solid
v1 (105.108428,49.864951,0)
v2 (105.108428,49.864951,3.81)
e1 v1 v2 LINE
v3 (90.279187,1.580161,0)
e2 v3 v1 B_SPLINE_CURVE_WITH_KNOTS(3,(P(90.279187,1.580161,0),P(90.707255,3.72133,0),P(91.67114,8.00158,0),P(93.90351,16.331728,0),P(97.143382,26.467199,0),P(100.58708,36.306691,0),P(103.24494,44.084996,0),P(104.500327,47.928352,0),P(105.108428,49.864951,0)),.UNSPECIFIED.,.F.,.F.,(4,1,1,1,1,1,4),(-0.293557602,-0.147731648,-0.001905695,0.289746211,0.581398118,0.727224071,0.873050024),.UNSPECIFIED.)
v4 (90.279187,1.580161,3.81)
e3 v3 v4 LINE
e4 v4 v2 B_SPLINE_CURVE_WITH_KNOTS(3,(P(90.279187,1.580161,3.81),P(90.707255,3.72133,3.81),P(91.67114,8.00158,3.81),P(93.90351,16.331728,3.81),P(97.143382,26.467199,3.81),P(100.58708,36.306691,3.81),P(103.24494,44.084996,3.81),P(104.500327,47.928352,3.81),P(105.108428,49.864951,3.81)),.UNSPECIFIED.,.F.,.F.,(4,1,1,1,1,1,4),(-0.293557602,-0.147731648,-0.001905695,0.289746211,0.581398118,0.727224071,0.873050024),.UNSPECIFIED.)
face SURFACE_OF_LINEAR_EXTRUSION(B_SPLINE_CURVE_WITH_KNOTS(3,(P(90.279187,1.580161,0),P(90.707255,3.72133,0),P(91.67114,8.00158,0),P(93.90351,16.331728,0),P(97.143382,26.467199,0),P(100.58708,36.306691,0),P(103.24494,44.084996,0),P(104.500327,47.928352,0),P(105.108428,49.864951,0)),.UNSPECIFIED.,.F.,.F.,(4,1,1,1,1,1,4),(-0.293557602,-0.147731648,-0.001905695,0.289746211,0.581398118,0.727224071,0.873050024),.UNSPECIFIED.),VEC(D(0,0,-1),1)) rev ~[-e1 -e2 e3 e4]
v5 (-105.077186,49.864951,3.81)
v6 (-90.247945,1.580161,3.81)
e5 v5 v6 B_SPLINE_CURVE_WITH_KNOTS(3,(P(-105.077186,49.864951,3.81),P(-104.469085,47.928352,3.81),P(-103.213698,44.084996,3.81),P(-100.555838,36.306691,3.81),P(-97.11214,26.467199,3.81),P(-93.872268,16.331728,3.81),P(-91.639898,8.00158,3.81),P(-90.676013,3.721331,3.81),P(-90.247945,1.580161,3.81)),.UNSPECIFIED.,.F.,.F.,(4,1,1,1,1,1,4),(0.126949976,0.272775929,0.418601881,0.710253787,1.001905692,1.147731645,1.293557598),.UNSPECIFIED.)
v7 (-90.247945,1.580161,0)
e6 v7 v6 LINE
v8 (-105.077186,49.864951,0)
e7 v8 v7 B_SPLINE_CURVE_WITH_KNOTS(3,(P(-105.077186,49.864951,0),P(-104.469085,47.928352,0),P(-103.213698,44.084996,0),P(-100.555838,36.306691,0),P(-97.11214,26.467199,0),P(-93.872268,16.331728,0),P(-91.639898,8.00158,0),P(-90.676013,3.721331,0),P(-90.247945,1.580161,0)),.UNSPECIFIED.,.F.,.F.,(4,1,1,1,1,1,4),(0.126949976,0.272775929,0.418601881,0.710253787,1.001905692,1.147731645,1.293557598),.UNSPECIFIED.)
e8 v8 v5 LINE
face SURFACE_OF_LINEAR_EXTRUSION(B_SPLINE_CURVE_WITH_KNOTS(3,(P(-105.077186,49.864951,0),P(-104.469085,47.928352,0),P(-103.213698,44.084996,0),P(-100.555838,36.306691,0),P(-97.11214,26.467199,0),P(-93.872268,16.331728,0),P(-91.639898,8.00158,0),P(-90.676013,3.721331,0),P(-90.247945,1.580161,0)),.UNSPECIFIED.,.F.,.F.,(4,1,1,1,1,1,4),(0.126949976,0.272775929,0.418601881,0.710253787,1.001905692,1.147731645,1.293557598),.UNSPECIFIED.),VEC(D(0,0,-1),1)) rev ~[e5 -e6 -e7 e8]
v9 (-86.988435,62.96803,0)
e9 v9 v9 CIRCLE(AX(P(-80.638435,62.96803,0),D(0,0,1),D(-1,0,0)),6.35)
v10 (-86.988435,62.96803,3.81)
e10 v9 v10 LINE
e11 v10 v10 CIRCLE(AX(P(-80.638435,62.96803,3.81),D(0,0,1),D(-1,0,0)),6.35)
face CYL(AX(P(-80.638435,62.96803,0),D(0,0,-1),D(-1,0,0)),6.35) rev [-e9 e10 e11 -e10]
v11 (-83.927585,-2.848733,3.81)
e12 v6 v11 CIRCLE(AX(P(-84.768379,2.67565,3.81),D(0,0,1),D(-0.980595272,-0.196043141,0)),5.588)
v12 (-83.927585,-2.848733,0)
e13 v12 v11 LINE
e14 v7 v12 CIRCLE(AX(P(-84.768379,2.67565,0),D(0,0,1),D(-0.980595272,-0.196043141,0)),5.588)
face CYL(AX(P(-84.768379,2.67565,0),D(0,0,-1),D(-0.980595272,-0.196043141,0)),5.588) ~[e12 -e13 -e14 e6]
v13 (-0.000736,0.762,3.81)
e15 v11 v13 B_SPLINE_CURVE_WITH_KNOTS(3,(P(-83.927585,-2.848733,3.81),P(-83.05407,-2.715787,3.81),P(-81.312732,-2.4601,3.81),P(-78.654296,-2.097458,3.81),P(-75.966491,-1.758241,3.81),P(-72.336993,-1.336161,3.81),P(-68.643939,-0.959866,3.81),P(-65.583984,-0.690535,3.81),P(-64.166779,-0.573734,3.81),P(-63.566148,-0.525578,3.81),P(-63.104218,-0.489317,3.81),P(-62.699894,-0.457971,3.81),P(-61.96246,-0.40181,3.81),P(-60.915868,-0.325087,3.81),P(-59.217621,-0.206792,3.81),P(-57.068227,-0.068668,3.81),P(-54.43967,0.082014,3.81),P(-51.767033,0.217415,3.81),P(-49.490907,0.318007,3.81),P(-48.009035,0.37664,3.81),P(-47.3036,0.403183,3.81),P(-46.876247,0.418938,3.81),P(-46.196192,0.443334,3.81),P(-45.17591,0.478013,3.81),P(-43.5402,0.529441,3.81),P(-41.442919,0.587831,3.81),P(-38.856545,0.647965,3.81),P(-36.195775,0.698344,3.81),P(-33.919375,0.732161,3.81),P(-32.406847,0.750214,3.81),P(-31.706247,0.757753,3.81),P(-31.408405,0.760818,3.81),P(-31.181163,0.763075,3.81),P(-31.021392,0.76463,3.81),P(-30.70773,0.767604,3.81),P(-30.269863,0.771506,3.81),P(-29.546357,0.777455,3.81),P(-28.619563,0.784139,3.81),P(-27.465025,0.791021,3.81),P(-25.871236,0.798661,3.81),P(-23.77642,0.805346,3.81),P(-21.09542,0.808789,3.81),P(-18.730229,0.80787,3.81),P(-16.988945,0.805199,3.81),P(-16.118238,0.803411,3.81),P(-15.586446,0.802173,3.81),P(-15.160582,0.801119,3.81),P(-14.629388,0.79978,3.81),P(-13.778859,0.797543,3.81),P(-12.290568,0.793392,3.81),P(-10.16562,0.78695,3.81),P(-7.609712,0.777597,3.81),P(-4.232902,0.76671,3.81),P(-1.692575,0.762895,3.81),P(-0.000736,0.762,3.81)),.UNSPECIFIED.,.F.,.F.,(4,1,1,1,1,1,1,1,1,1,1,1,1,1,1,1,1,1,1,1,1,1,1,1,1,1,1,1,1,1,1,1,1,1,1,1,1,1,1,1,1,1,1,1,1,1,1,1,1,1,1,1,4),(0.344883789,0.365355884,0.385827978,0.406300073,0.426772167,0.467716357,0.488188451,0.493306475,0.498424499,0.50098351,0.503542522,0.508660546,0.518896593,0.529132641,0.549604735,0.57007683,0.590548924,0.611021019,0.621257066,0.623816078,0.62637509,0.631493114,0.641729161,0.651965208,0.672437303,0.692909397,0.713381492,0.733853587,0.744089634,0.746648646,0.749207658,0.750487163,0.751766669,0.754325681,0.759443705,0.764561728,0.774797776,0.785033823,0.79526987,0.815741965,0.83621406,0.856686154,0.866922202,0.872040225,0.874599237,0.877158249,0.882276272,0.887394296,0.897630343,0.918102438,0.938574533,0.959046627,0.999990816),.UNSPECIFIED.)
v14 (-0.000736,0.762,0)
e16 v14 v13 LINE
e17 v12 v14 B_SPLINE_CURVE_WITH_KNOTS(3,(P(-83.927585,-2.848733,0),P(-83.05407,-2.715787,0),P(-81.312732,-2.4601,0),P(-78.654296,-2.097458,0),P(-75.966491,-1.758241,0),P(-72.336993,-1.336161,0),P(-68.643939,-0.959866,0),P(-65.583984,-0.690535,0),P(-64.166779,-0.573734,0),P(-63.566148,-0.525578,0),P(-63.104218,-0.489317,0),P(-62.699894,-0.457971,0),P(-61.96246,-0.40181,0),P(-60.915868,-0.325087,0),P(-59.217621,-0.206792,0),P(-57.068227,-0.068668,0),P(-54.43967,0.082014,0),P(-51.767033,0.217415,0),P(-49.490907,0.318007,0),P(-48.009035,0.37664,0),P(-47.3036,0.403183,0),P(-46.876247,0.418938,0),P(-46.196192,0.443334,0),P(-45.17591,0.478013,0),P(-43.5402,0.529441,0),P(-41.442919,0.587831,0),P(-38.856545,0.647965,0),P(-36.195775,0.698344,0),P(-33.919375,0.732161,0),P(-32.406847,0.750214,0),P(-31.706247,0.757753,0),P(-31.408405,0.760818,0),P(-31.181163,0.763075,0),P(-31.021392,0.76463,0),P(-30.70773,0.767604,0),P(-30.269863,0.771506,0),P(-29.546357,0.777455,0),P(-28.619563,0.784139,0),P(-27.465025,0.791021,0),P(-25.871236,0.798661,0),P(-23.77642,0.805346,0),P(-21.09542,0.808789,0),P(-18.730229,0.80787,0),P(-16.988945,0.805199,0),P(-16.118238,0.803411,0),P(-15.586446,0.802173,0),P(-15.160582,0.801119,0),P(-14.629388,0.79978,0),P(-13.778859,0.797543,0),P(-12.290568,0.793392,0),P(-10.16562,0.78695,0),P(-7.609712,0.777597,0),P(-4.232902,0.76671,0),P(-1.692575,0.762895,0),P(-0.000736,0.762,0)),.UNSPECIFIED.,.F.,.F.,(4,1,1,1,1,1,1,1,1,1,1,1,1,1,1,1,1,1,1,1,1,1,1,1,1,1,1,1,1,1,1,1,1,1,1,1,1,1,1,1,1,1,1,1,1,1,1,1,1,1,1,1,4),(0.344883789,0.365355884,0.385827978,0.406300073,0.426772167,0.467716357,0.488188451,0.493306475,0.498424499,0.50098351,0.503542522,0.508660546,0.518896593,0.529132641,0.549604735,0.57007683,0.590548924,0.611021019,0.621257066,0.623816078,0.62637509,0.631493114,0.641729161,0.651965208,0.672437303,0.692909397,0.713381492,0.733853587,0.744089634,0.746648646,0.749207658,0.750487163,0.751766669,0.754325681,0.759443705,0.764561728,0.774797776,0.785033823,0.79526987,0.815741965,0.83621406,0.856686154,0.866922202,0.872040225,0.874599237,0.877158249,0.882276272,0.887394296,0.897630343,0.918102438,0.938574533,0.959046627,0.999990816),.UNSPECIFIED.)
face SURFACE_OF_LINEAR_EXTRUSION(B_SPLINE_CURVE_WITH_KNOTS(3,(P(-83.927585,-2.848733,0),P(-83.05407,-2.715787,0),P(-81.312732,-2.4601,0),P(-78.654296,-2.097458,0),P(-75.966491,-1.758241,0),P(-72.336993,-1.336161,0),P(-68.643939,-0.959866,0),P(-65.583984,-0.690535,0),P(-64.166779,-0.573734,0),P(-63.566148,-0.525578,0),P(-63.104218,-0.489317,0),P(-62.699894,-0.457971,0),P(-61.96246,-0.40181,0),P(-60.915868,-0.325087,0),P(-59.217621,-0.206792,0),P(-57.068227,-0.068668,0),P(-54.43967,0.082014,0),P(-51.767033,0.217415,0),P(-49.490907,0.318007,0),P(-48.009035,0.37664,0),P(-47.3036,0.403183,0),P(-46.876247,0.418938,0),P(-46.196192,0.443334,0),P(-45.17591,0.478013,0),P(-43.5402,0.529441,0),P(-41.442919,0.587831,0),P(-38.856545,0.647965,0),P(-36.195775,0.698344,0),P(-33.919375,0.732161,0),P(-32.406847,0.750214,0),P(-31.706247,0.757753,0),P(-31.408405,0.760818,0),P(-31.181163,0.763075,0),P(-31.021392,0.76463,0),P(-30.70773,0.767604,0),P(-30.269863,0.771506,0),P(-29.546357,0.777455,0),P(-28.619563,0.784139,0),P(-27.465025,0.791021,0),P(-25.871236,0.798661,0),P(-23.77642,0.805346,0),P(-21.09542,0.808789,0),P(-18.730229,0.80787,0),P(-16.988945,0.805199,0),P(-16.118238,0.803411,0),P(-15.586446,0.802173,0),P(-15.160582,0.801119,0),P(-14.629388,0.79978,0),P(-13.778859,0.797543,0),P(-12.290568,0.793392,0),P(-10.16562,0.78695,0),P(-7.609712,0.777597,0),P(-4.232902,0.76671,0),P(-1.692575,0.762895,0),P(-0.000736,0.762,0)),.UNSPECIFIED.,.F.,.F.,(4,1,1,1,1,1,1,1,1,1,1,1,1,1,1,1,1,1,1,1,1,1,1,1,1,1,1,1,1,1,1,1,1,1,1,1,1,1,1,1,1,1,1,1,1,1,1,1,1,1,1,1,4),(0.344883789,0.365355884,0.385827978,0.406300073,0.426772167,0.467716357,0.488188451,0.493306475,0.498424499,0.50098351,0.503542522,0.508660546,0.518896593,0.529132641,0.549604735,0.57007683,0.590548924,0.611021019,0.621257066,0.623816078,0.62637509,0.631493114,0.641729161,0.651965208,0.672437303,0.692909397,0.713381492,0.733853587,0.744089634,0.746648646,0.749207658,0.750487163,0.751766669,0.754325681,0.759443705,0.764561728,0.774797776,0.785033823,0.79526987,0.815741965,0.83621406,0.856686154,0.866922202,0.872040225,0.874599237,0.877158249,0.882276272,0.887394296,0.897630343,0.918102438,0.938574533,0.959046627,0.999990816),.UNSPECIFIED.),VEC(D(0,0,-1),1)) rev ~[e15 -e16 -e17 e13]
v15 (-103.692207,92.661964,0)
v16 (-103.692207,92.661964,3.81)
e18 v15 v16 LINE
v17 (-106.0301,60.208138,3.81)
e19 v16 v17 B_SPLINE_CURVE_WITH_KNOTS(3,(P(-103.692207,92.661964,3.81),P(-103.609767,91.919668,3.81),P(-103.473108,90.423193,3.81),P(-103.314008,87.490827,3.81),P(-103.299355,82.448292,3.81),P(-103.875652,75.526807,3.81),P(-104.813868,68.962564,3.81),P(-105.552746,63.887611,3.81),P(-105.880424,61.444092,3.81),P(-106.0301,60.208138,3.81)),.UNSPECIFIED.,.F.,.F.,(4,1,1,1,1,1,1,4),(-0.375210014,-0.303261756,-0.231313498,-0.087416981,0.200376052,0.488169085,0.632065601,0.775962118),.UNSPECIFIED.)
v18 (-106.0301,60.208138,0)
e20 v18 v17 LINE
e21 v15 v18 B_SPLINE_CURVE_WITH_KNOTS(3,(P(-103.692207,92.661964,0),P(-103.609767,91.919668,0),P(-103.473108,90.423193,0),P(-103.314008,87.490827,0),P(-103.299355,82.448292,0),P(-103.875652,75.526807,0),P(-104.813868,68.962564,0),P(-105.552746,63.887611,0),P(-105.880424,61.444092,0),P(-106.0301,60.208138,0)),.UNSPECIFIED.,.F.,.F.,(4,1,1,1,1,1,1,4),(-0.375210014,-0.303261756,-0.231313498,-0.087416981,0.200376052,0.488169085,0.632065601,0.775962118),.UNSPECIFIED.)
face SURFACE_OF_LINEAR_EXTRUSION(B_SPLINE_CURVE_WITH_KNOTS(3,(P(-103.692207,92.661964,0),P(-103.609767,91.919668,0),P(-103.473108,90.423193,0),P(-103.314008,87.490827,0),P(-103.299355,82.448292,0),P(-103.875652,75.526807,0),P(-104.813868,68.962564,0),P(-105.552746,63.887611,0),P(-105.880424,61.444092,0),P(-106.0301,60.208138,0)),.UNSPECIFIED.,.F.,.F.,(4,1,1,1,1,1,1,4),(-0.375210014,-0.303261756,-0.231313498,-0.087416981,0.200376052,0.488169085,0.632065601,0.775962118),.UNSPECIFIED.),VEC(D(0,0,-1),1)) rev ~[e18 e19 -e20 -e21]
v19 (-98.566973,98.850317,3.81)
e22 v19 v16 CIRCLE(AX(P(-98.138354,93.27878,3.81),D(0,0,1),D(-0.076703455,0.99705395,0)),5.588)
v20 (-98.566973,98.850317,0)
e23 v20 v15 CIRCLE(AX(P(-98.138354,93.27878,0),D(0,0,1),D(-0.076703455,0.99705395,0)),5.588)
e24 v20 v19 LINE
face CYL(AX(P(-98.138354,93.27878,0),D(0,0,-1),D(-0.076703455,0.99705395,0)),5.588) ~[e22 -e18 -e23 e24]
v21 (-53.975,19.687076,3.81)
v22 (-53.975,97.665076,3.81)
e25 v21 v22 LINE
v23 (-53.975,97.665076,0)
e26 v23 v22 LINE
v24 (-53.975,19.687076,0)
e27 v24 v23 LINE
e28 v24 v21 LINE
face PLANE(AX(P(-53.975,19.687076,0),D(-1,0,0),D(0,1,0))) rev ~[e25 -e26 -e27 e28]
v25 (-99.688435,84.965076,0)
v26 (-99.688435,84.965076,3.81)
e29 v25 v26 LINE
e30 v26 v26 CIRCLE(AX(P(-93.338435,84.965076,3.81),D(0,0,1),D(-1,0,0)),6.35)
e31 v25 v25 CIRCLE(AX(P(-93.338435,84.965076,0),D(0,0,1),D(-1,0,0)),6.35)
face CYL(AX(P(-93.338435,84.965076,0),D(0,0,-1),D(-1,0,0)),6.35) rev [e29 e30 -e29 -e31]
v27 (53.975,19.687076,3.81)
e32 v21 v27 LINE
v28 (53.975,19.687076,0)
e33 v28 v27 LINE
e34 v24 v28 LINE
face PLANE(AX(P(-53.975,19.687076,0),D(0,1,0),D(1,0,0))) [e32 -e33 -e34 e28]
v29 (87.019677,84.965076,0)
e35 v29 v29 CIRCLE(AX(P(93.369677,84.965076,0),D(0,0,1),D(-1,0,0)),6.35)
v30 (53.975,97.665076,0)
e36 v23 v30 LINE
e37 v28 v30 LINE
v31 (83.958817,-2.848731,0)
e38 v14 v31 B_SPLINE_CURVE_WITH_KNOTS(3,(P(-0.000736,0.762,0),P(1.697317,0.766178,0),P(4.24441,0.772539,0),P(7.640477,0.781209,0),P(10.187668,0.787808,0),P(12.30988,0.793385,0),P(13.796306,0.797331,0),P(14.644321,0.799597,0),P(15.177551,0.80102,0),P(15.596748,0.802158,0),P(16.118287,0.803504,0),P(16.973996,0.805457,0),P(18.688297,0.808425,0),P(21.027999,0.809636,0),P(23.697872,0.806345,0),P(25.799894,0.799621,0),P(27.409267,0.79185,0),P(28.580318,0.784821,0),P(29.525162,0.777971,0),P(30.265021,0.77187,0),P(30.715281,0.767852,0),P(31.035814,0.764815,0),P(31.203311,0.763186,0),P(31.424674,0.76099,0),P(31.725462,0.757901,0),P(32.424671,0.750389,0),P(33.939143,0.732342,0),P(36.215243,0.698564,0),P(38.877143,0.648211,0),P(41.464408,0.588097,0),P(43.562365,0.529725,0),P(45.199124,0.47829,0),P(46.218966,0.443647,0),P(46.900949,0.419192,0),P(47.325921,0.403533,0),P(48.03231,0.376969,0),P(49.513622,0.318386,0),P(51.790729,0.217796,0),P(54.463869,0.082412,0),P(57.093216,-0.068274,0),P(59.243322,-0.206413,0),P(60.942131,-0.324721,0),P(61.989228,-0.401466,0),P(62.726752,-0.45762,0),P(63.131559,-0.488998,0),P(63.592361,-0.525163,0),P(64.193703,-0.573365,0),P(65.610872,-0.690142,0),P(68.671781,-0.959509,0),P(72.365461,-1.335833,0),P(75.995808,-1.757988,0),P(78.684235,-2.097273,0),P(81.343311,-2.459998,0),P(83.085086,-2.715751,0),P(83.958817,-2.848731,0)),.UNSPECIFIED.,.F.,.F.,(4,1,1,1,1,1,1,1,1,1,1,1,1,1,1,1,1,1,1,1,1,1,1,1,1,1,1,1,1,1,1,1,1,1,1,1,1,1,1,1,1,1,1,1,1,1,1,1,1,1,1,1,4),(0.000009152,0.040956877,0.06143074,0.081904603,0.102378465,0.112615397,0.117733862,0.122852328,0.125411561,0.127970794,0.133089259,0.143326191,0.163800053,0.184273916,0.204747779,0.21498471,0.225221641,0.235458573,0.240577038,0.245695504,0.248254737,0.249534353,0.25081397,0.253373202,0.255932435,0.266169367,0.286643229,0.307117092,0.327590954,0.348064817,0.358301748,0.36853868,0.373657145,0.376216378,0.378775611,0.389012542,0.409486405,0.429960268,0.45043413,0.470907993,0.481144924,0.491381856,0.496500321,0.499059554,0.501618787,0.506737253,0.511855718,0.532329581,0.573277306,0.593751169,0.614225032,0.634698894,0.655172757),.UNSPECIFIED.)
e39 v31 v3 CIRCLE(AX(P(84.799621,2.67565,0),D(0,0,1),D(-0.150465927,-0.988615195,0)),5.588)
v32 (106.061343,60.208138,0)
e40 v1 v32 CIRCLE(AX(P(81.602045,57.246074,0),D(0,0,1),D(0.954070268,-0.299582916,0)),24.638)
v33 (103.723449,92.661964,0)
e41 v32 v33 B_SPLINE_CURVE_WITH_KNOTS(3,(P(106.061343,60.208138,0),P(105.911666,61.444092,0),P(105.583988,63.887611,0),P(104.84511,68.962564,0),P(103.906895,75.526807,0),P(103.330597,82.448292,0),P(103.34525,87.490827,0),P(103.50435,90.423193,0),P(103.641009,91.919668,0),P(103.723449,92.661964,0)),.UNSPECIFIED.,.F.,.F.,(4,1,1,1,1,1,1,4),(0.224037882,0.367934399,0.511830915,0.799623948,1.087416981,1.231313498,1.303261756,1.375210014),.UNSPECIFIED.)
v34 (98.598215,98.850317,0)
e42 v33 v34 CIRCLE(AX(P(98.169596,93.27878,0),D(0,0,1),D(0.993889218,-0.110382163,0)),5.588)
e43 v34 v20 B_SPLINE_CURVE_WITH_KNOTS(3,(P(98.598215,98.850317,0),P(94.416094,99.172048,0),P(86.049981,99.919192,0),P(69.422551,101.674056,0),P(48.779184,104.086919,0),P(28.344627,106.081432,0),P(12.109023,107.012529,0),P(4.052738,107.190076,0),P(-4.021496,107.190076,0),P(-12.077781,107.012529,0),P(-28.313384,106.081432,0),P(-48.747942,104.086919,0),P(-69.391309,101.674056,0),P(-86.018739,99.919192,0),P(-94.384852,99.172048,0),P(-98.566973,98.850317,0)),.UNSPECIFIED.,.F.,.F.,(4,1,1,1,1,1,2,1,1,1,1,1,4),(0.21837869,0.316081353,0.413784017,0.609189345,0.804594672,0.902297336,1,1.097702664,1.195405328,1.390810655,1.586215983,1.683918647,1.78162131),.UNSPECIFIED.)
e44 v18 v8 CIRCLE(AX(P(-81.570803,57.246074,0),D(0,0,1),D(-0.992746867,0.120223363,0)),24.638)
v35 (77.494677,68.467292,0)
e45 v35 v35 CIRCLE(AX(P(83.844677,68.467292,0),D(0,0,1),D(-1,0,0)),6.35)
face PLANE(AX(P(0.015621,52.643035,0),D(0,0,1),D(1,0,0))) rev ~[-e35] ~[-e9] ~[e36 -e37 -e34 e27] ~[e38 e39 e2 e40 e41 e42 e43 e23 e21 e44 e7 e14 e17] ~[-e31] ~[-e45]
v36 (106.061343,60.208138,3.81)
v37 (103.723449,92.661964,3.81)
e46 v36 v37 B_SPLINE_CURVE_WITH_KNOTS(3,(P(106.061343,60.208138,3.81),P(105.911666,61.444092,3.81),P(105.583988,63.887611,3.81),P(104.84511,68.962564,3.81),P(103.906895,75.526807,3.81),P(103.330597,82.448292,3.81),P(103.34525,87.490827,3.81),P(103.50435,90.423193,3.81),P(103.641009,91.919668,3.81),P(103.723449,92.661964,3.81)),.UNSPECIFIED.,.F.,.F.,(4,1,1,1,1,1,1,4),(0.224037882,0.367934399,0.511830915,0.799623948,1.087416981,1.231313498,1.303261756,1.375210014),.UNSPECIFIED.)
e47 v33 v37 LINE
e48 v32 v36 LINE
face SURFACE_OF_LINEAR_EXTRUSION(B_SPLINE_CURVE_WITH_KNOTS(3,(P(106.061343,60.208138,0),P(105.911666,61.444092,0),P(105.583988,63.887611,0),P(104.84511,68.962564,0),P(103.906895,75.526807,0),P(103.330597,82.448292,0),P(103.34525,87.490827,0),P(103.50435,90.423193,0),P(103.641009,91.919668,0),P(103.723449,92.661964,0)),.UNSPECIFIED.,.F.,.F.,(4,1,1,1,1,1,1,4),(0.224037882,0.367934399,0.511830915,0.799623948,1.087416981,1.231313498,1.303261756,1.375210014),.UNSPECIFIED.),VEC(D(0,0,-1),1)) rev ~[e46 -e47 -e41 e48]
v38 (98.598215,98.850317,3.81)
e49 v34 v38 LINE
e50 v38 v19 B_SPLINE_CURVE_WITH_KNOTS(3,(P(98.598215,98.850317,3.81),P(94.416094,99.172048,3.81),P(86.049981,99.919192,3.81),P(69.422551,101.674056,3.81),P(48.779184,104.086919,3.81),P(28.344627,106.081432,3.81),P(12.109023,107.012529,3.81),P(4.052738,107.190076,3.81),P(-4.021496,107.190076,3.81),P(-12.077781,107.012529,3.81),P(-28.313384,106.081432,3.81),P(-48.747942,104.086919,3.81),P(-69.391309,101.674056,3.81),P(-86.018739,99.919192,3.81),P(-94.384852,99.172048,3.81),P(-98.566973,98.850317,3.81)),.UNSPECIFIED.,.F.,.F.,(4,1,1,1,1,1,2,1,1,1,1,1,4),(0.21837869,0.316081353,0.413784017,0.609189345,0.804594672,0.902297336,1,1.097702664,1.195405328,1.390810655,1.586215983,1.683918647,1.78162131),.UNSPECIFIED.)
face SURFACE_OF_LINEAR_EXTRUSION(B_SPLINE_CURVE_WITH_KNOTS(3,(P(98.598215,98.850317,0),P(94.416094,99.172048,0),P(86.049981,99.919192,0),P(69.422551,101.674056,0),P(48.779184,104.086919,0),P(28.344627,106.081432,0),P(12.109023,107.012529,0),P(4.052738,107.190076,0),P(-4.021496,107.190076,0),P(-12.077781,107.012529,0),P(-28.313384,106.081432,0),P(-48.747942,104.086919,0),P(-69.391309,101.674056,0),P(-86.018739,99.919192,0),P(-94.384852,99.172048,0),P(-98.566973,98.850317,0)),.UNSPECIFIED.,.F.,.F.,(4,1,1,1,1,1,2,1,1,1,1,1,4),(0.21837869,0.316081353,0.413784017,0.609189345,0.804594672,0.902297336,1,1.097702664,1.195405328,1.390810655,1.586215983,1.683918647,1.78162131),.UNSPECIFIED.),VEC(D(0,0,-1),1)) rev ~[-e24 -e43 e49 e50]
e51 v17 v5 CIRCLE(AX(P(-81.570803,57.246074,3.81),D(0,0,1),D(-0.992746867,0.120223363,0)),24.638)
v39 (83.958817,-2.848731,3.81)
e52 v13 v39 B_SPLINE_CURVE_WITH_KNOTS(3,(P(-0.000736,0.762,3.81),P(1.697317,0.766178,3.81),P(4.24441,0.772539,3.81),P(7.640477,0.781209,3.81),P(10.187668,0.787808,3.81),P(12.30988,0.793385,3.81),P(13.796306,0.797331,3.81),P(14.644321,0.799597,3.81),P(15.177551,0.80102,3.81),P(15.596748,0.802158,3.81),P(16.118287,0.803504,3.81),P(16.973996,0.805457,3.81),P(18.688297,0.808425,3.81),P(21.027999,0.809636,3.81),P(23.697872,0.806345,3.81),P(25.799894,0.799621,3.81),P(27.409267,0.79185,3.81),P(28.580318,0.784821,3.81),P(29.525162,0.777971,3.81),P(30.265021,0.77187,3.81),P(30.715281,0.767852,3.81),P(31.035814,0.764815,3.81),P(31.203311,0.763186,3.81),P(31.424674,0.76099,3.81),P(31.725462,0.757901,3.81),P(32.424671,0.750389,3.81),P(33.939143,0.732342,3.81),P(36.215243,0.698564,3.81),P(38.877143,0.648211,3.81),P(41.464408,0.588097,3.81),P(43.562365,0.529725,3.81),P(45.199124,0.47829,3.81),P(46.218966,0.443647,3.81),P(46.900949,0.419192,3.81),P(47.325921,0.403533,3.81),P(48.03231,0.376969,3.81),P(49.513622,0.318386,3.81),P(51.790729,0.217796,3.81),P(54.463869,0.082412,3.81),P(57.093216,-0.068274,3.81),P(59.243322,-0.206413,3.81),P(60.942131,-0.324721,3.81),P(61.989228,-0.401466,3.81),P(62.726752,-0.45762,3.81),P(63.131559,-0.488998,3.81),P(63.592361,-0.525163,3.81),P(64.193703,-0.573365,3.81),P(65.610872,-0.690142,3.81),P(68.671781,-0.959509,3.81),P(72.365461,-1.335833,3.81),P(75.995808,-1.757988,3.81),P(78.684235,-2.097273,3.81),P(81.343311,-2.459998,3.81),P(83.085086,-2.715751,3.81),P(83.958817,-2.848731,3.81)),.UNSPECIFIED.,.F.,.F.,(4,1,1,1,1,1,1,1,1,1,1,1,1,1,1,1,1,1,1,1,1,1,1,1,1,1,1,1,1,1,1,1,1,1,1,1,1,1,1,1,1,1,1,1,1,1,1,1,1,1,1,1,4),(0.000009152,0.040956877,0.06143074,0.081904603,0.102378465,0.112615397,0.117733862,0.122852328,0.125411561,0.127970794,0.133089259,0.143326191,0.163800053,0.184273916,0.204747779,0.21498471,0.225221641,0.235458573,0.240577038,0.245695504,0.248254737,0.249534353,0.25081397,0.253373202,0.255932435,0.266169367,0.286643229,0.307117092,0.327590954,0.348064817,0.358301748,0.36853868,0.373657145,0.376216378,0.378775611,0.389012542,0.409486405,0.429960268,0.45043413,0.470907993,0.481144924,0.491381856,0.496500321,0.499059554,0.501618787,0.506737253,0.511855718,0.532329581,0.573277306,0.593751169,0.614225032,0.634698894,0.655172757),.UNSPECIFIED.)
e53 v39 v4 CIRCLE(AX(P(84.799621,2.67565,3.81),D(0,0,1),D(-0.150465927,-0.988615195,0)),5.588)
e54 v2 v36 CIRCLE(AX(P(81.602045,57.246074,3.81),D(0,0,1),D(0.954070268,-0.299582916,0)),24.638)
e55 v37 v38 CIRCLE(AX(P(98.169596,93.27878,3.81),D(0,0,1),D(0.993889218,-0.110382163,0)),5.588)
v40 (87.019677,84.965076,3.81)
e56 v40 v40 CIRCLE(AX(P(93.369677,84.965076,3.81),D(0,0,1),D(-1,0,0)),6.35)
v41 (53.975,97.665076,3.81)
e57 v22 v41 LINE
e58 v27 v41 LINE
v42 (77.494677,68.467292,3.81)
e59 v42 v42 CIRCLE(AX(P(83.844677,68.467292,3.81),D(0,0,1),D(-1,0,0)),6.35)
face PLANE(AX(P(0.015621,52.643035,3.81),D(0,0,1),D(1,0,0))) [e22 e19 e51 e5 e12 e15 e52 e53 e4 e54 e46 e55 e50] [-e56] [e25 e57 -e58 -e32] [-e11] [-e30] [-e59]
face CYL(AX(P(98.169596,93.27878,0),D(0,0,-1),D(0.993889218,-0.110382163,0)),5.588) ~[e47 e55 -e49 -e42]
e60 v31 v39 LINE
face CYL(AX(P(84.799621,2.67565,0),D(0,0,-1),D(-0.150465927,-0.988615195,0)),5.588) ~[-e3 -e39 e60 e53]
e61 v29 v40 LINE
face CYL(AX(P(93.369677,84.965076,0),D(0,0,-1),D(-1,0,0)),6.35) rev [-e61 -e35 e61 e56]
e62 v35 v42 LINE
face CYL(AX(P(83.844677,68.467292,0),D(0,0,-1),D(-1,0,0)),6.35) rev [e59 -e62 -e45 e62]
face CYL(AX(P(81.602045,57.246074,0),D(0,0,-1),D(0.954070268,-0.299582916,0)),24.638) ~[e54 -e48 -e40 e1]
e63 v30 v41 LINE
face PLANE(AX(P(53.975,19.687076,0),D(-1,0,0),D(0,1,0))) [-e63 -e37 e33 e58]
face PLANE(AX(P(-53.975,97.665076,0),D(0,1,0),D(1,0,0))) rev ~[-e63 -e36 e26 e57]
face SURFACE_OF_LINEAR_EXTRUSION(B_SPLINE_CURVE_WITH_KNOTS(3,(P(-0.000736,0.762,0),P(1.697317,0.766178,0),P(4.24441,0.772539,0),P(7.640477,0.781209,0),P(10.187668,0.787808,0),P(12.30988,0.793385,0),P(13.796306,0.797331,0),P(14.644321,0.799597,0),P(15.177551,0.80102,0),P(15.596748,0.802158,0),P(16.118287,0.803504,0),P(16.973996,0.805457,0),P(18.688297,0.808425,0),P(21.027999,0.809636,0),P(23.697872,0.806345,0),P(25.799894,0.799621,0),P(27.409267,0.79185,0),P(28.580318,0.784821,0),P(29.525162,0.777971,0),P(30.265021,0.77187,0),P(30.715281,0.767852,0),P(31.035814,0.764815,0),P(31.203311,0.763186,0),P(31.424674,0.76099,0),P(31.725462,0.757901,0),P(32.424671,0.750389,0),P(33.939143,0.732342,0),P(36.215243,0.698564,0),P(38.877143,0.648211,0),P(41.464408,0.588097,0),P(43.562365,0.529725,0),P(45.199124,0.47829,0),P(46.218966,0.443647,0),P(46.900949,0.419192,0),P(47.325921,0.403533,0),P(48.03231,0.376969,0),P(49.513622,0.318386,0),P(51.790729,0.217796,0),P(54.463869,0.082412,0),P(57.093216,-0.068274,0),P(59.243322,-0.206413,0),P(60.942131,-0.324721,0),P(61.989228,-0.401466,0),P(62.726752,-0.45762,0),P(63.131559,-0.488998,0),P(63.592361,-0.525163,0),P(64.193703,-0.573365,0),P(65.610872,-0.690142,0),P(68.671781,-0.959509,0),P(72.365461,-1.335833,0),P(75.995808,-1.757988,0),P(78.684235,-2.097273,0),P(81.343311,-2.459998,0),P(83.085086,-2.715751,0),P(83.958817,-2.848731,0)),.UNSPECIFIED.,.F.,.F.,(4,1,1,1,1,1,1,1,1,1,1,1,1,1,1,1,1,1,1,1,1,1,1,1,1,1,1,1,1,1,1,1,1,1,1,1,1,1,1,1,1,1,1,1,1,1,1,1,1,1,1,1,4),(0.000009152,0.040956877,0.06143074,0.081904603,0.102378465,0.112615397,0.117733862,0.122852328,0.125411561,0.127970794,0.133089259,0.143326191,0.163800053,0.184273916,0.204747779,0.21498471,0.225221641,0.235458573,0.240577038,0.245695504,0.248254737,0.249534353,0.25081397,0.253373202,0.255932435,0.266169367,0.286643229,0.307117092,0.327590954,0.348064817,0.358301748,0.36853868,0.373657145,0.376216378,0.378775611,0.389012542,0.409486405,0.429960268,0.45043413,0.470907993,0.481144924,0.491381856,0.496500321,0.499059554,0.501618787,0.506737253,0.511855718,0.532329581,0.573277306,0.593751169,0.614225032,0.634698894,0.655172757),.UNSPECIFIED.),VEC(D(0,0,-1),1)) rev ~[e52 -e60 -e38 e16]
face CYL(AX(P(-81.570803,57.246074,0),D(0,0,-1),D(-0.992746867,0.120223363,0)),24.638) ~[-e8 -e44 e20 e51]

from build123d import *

# Parameters (mm, degrees)
SKETCH1_R           = 6.35
SKETCH1_W           = 107.95
SKETCH1_H           = 77.978
BOSS_EXTRUDE1_DEPTH = 3.81


with BuildPart() as part:
    # Sketch1 → Boss-Extrude1 (new body)
    with BuildSketch(Plane.XY):
        with BuildLine():
            ThreePointArc((-90.247945126, 1.580161299), (-87.975141882, -1.900637883), (-83.927585414, -2.848732901))
            add(Edge.make_bspline(
                [(-83.927585414, -2.848732901), (-83.054070471, -2.715786742), (-81.312732205, -2.460099658), (-78.654295906, -2.097457818), (-75.966491195, -1.758240891), (-72.336992818, -1.336160635), (-68.643939449, -0.959865866), (-65.583983691, -0.690535221), (-64.166779255, -0.573734085), (-63.566148315, -0.525577724), (-63.104217983, -0.489316665), (-62.699894104, -0.457970525), (-61.962459601, -0.401810292), (-60.915867879, -0.325087188), (-59.217621249, -0.20679221), (-57.068227268, -0.068668175), (-54.439670256, 0.082013873), (-51.767032951, 0.217415022), (-49.490906759, 0.318006821), (-48.009034739, 0.376639561), (-47.303600356, 0.403182815), (-46.87624745, 0.418937653), (-46.196192411, 0.443333549), (-45.175910497, 0.47801298), (-43.54019985, 0.529440772), (-41.442918551, 0.587830962), (-38.856544752, 0.647964805), (-36.195775126, 0.698343729), (-33.919375463, 0.73216057), (-32.406847373, 0.750213929), (-31.706246722, 0.757752509), (-31.408404648, 0.760817662), (-31.181163199, 0.763075054), (-31.021391801, 0.764629932), (-30.707730066, 0.767603553), (-30.26986268, 0.771505625), (-29.546357408, 0.777455403), (-28.619562792, 0.78413893), (-27.465024779, 0.791021083), (-25.871235622, 0.798660769), (-23.776420321, 0.805345875), (-21.095419523, 0.808788849), (-18.730229007, 0.807870354), (-16.988945077, 0.805198844), (-16.118237596, 0.803410927), (-15.586446283, 0.802172614), (-15.160582097, 0.801119107), (-14.629388092, 0.799779587), (-13.778859371, 0.797542602), (-12.290567631, 0.793391761), (-10.165619586, 0.786950406), (-7.609712384, 0.777596832), (-4.232901772, 0.76670962), (-1.692574695, 0.762894866), (-0.000735939, 0.762000495)],
                knots=[0.344883789, 0.344883789, 0.344883789, 0.344883789, 0.365355884, 0.385827978, 0.406300073, 0.426772167, 0.467716357, 0.488188451, 0.493306475, 0.498424499, 0.50098351, 0.503542522, 0.508660546, 0.518896593, 0.529132641, 0.549604735, 0.57007683, 0.590548924, 0.611021019, 0.621257066, 0.623816078, 0.62637509, 0.631493114, 0.641729161, 0.651965208, 0.672437303, 0.692909397, 0.713381492, 0.733853587, 0.744089634, 0.746648646, 0.749207658, 0.750487163, 0.751766669, 0.754325681, 0.759443705, 0.764561728, 0.774797776, 0.785033823, 0.79526987, 0.815741965, 0.83621406, 0.856686154, 0.866922202, 0.872040225, 0.874599237, 0.877158249, 0.882276272, 0.887394296, 0.897630343, 0.918102438, 0.938574533, 0.959046627, 0.999990816, 0.999990816, 0.999990816, 0.999990816], degree=3))
            add(Edge.make_bspline(
                [(-0.000735939, 0.762000495), (1.697316836, 0.766177734), (4.244409913, 0.77253852), (7.640476943, 0.781209392), (10.187668405, 0.787807526), (12.309879884, 0.793384892), (13.796306461, 0.797330932), (14.644321151, 0.799597123), (15.177550854, 0.80101974), (15.596748301, 0.802157809), (16.118287, 0.803504136), (16.973995966, 0.80545727), (18.68829658, 0.808424504), (21.027999055, 0.809635512), (23.697872289, 0.806345409), (25.799893716, 0.79962074), (27.409267347, 0.791849991), (28.580317931, 0.784820707), (29.525162279, 0.777971464), (30.265021199, 0.771870135), (30.715280941, 0.767851736), (31.035813921, 0.764814821), (31.203310927, 0.763185732), (31.424674383, 0.760990419), (31.725461502, 0.75790149), (32.424670998, 0.75038892), (33.939142843, 0.732342076), (36.215243056, 0.698563653), (38.877142881, 0.648210549), (41.464408025, 0.588096862), (43.562364845, 0.52972496), (45.199123553, 0.478290291), (46.218966314, 0.443646588), (46.900949422, 0.419191941), (47.325920748, 0.403533269), (48.032310107, 0.376969373), (49.513622078, 0.318385817), (51.790729101, 0.217796458), (54.463869347, 0.082412308), (57.093216384, -0.068273652), (59.243322334, -0.206412508), (60.942131401, -0.324720902), (61.989228303, -0.401465522), (62.726751965, -0.457620494), (63.131559362, -0.488998275), (63.592361081, -0.52516306), (64.193703385, -0.573365144), (65.61087209, -0.690141767), (68.671780552, -0.959508913), (72.365460908, -1.33583339), (75.995808252, -1.757987944), (78.68423516, -2.097273121), (81.343310776, -2.459998054), (83.085085672, -2.715750704), (83.958817154, -2.848731481)],
                knots=[9.152e-06, 9.152e-06, 9.152e-06, 9.152e-06, 0.040956877, 0.06143074, 0.081904603, 0.102378465, 0.112615397, 0.117733862, 0.122852328, 0.125411561, 0.127970794, 0.133089259, 0.143326191, 0.163800053, 0.184273916, 0.204747779, 0.21498471, 0.225221641, 0.235458573, 0.240577038, 0.245695504, 0.248254737, 0.249534353, 0.25081397, 0.253373202, 0.255932435, 0.266169367, 0.286643229, 0.307117092, 0.327590954, 0.348064817, 0.358301748, 0.36853868, 0.373657145, 0.376216378, 0.378775611, 0.389012542, 0.409486405, 0.429960268, 0.45043413, 0.470907993, 0.481144924, 0.491381856, 0.496500321, 0.499059554, 0.501618787, 0.506737253, 0.511855718, 0.532329581, 0.573277306, 0.593751169, 0.614225032, 0.634698894, 0.655172757, 0.655172757, 0.655172757, 0.655172757], degree=3))
            ThreePointArc((83.958817154, -2.848731481), (88.006379638, -1.900641004), (90.279187133, 1.58016116))
            add(Edge.make_bspline(
                [(90.279187133, 1.58016116), (90.707255223, 3.721330409), (91.671139987, 8.001579794), (93.903510476, 16.331728227), (97.14338237, 26.467199173), (100.58708015, 36.306691054), (103.244940111, 44.084996329), (104.500326759, 47.928352327), (105.108428455, 49.864950567)],
                knots=[-0.293557602, -0.293557602, -0.293557602, -0.293557602, -0.147731648, -0.001905695, 0.289746211, 0.581398118, 0.727224071, 0.873050024, 0.873050024, 0.873050024, 0.873050024], degree=3))
            ThreePointArc((105.108428455, 49.864950567), (106.136144084, 54.985756874), (106.061342514, 60.208137689))
            add(Edge.make_bspline(
                [(106.061342514, 60.208137689), (105.911666294, 61.444092118), (105.583988035, 63.887611007), (104.845109607, 68.962564326), (103.906894516, 75.52680744), (103.330597064, 82.448292199), (103.345249689, 87.49082735), (103.504349867, 90.423192606), (103.641008775, 91.919668099), (103.72344879, 92.661964135)],
                knots=[0.224037882, 0.224037882, 0.224037882, 0.224037882, 0.367934399, 0.511830915, 0.799623948, 1.087416981, 1.231313498, 1.303261756, 1.375210014, 1.375210014, 1.375210014, 1.375210014], degree=3))
            ThreePointArc((103.72344879, 92.661964135), (102.473247846, 96.843092134), (98.598214744, 98.850317136))
            add(Edge.make_bspline(
                [(98.598214744, 98.850317136), (94.416094473, 99.172048045), (86.049981349, 99.919191974), (69.422551197, 101.674055975), (48.779184165, 104.086919071), (28.344626534, 106.081432238), (12.109022695, 107.012529299), (4.052738444, 107.190075663), (0.015621033, 107.190075663)],
                knots=[0.21837869, 0.21837869, 0.21837869, 0.21837869, 0.316081353, 0.413784017, 0.609189345, 0.804594672, 0.902297336, 1, 1, 1, 1], degree=3))
            add(Edge.make_bspline(
                [(0.015621033, 107.190075663), (-4.021496378, 107.190075663), (-12.077780629, 107.012529299), (-28.313384468, 106.081432237), (-48.747942099, 104.08691907), (-69.39130913, 101.674055973), (-86.018739283, 99.919191972), (-94.384852407, 99.172048042), (-98.566972677, 98.850317134)],
                knots=[0, 0, 0, 0, 0.097702664, 0.195405328, 0.390810655, 0.586215983, 0.683918647, 0.78162131, 0.78162131, 0.78162131, 0.78162131], degree=3))
            ThreePointArc((-98.566972677, 98.850317134), (-102.442005779, 96.843092132), (-103.692206724, 92.661964133))
            add(Edge.make_bspline(
                [(-103.692206724, 92.661964133), (-103.609766709, 91.919668097), (-103.4731078, 90.423192604), (-103.314007622, 87.490827347), (-103.299354998, 82.448292195), (-103.875652451, 75.526807436), (-104.813867543, 68.962564321), (-105.552745972, 63.887611001), (-105.880424231, 61.444092112), (-106.030100451, 60.208137683)],
                knots=[-0.375210014, -0.375210014, -0.375210014, -0.375210014, -0.303261756, -0.231313498, -0.087416981, 0.200376052, 0.488169085, 0.632065601, 0.775962118, 0.775962118, 0.775962118, 0.775962118], degree=3))
            ThreePointArc((-106.030100451, 60.208137683), (-106.104902022, 54.985756873), (-105.077186396, 49.864950571))
            add(Edge.make_bspline(
                [(-105.077186396, 49.864950571), (-104.469084703, 47.928352336), (-103.213698061, 44.084996348), (-100.555838111, 36.306691093), (-97.112140347, 26.467199238), (-93.872268464, 16.33172832), (-91.63989798, 8.001579913), (-90.676013216, 3.721330541), (-90.247945126, 1.580161299)],
                knots=[0.126949976, 0.126949976, 0.126949976, 0.126949976, 0.272775929, 0.418601881, 0.710253787, 1.001905692, 1.147731645, 1.293557598, 1.293557598, 1.293557598, 1.293557598], degree=3))
        make_face()
        with Locations(Location((-93.338434532, 84.965075663, 0), (0, 0, 180))):
            Circle(SKETCH1_R, mode=Mode.SUBTRACT)
        with Locations(Location((93.369676598, 84.965075663, 0), (0, 0, 180))):
            Circle(SKETCH1_R, mode=Mode.SUBTRACT)
        with Locations(Location((-80.638434532, 62.968030407, 0), (0, 0, 180))):
            Circle(SKETCH1_R, mode=Mode.SUBTRACT)
        with Locations(Location((83.844676598, 68.467291721, 0), (0, 0, 180))):
            Circle(SKETCH1_R, mode=Mode.SUBTRACT)
        with Locations((0, 58.676075663)):
            Rectangle(SKETCH1_W, SKETCH1_H, mode=Mode.SUBTRACT)
    extrude(amount=BOSS_EXTRUDE1_DEPTH)


solid = part.part
